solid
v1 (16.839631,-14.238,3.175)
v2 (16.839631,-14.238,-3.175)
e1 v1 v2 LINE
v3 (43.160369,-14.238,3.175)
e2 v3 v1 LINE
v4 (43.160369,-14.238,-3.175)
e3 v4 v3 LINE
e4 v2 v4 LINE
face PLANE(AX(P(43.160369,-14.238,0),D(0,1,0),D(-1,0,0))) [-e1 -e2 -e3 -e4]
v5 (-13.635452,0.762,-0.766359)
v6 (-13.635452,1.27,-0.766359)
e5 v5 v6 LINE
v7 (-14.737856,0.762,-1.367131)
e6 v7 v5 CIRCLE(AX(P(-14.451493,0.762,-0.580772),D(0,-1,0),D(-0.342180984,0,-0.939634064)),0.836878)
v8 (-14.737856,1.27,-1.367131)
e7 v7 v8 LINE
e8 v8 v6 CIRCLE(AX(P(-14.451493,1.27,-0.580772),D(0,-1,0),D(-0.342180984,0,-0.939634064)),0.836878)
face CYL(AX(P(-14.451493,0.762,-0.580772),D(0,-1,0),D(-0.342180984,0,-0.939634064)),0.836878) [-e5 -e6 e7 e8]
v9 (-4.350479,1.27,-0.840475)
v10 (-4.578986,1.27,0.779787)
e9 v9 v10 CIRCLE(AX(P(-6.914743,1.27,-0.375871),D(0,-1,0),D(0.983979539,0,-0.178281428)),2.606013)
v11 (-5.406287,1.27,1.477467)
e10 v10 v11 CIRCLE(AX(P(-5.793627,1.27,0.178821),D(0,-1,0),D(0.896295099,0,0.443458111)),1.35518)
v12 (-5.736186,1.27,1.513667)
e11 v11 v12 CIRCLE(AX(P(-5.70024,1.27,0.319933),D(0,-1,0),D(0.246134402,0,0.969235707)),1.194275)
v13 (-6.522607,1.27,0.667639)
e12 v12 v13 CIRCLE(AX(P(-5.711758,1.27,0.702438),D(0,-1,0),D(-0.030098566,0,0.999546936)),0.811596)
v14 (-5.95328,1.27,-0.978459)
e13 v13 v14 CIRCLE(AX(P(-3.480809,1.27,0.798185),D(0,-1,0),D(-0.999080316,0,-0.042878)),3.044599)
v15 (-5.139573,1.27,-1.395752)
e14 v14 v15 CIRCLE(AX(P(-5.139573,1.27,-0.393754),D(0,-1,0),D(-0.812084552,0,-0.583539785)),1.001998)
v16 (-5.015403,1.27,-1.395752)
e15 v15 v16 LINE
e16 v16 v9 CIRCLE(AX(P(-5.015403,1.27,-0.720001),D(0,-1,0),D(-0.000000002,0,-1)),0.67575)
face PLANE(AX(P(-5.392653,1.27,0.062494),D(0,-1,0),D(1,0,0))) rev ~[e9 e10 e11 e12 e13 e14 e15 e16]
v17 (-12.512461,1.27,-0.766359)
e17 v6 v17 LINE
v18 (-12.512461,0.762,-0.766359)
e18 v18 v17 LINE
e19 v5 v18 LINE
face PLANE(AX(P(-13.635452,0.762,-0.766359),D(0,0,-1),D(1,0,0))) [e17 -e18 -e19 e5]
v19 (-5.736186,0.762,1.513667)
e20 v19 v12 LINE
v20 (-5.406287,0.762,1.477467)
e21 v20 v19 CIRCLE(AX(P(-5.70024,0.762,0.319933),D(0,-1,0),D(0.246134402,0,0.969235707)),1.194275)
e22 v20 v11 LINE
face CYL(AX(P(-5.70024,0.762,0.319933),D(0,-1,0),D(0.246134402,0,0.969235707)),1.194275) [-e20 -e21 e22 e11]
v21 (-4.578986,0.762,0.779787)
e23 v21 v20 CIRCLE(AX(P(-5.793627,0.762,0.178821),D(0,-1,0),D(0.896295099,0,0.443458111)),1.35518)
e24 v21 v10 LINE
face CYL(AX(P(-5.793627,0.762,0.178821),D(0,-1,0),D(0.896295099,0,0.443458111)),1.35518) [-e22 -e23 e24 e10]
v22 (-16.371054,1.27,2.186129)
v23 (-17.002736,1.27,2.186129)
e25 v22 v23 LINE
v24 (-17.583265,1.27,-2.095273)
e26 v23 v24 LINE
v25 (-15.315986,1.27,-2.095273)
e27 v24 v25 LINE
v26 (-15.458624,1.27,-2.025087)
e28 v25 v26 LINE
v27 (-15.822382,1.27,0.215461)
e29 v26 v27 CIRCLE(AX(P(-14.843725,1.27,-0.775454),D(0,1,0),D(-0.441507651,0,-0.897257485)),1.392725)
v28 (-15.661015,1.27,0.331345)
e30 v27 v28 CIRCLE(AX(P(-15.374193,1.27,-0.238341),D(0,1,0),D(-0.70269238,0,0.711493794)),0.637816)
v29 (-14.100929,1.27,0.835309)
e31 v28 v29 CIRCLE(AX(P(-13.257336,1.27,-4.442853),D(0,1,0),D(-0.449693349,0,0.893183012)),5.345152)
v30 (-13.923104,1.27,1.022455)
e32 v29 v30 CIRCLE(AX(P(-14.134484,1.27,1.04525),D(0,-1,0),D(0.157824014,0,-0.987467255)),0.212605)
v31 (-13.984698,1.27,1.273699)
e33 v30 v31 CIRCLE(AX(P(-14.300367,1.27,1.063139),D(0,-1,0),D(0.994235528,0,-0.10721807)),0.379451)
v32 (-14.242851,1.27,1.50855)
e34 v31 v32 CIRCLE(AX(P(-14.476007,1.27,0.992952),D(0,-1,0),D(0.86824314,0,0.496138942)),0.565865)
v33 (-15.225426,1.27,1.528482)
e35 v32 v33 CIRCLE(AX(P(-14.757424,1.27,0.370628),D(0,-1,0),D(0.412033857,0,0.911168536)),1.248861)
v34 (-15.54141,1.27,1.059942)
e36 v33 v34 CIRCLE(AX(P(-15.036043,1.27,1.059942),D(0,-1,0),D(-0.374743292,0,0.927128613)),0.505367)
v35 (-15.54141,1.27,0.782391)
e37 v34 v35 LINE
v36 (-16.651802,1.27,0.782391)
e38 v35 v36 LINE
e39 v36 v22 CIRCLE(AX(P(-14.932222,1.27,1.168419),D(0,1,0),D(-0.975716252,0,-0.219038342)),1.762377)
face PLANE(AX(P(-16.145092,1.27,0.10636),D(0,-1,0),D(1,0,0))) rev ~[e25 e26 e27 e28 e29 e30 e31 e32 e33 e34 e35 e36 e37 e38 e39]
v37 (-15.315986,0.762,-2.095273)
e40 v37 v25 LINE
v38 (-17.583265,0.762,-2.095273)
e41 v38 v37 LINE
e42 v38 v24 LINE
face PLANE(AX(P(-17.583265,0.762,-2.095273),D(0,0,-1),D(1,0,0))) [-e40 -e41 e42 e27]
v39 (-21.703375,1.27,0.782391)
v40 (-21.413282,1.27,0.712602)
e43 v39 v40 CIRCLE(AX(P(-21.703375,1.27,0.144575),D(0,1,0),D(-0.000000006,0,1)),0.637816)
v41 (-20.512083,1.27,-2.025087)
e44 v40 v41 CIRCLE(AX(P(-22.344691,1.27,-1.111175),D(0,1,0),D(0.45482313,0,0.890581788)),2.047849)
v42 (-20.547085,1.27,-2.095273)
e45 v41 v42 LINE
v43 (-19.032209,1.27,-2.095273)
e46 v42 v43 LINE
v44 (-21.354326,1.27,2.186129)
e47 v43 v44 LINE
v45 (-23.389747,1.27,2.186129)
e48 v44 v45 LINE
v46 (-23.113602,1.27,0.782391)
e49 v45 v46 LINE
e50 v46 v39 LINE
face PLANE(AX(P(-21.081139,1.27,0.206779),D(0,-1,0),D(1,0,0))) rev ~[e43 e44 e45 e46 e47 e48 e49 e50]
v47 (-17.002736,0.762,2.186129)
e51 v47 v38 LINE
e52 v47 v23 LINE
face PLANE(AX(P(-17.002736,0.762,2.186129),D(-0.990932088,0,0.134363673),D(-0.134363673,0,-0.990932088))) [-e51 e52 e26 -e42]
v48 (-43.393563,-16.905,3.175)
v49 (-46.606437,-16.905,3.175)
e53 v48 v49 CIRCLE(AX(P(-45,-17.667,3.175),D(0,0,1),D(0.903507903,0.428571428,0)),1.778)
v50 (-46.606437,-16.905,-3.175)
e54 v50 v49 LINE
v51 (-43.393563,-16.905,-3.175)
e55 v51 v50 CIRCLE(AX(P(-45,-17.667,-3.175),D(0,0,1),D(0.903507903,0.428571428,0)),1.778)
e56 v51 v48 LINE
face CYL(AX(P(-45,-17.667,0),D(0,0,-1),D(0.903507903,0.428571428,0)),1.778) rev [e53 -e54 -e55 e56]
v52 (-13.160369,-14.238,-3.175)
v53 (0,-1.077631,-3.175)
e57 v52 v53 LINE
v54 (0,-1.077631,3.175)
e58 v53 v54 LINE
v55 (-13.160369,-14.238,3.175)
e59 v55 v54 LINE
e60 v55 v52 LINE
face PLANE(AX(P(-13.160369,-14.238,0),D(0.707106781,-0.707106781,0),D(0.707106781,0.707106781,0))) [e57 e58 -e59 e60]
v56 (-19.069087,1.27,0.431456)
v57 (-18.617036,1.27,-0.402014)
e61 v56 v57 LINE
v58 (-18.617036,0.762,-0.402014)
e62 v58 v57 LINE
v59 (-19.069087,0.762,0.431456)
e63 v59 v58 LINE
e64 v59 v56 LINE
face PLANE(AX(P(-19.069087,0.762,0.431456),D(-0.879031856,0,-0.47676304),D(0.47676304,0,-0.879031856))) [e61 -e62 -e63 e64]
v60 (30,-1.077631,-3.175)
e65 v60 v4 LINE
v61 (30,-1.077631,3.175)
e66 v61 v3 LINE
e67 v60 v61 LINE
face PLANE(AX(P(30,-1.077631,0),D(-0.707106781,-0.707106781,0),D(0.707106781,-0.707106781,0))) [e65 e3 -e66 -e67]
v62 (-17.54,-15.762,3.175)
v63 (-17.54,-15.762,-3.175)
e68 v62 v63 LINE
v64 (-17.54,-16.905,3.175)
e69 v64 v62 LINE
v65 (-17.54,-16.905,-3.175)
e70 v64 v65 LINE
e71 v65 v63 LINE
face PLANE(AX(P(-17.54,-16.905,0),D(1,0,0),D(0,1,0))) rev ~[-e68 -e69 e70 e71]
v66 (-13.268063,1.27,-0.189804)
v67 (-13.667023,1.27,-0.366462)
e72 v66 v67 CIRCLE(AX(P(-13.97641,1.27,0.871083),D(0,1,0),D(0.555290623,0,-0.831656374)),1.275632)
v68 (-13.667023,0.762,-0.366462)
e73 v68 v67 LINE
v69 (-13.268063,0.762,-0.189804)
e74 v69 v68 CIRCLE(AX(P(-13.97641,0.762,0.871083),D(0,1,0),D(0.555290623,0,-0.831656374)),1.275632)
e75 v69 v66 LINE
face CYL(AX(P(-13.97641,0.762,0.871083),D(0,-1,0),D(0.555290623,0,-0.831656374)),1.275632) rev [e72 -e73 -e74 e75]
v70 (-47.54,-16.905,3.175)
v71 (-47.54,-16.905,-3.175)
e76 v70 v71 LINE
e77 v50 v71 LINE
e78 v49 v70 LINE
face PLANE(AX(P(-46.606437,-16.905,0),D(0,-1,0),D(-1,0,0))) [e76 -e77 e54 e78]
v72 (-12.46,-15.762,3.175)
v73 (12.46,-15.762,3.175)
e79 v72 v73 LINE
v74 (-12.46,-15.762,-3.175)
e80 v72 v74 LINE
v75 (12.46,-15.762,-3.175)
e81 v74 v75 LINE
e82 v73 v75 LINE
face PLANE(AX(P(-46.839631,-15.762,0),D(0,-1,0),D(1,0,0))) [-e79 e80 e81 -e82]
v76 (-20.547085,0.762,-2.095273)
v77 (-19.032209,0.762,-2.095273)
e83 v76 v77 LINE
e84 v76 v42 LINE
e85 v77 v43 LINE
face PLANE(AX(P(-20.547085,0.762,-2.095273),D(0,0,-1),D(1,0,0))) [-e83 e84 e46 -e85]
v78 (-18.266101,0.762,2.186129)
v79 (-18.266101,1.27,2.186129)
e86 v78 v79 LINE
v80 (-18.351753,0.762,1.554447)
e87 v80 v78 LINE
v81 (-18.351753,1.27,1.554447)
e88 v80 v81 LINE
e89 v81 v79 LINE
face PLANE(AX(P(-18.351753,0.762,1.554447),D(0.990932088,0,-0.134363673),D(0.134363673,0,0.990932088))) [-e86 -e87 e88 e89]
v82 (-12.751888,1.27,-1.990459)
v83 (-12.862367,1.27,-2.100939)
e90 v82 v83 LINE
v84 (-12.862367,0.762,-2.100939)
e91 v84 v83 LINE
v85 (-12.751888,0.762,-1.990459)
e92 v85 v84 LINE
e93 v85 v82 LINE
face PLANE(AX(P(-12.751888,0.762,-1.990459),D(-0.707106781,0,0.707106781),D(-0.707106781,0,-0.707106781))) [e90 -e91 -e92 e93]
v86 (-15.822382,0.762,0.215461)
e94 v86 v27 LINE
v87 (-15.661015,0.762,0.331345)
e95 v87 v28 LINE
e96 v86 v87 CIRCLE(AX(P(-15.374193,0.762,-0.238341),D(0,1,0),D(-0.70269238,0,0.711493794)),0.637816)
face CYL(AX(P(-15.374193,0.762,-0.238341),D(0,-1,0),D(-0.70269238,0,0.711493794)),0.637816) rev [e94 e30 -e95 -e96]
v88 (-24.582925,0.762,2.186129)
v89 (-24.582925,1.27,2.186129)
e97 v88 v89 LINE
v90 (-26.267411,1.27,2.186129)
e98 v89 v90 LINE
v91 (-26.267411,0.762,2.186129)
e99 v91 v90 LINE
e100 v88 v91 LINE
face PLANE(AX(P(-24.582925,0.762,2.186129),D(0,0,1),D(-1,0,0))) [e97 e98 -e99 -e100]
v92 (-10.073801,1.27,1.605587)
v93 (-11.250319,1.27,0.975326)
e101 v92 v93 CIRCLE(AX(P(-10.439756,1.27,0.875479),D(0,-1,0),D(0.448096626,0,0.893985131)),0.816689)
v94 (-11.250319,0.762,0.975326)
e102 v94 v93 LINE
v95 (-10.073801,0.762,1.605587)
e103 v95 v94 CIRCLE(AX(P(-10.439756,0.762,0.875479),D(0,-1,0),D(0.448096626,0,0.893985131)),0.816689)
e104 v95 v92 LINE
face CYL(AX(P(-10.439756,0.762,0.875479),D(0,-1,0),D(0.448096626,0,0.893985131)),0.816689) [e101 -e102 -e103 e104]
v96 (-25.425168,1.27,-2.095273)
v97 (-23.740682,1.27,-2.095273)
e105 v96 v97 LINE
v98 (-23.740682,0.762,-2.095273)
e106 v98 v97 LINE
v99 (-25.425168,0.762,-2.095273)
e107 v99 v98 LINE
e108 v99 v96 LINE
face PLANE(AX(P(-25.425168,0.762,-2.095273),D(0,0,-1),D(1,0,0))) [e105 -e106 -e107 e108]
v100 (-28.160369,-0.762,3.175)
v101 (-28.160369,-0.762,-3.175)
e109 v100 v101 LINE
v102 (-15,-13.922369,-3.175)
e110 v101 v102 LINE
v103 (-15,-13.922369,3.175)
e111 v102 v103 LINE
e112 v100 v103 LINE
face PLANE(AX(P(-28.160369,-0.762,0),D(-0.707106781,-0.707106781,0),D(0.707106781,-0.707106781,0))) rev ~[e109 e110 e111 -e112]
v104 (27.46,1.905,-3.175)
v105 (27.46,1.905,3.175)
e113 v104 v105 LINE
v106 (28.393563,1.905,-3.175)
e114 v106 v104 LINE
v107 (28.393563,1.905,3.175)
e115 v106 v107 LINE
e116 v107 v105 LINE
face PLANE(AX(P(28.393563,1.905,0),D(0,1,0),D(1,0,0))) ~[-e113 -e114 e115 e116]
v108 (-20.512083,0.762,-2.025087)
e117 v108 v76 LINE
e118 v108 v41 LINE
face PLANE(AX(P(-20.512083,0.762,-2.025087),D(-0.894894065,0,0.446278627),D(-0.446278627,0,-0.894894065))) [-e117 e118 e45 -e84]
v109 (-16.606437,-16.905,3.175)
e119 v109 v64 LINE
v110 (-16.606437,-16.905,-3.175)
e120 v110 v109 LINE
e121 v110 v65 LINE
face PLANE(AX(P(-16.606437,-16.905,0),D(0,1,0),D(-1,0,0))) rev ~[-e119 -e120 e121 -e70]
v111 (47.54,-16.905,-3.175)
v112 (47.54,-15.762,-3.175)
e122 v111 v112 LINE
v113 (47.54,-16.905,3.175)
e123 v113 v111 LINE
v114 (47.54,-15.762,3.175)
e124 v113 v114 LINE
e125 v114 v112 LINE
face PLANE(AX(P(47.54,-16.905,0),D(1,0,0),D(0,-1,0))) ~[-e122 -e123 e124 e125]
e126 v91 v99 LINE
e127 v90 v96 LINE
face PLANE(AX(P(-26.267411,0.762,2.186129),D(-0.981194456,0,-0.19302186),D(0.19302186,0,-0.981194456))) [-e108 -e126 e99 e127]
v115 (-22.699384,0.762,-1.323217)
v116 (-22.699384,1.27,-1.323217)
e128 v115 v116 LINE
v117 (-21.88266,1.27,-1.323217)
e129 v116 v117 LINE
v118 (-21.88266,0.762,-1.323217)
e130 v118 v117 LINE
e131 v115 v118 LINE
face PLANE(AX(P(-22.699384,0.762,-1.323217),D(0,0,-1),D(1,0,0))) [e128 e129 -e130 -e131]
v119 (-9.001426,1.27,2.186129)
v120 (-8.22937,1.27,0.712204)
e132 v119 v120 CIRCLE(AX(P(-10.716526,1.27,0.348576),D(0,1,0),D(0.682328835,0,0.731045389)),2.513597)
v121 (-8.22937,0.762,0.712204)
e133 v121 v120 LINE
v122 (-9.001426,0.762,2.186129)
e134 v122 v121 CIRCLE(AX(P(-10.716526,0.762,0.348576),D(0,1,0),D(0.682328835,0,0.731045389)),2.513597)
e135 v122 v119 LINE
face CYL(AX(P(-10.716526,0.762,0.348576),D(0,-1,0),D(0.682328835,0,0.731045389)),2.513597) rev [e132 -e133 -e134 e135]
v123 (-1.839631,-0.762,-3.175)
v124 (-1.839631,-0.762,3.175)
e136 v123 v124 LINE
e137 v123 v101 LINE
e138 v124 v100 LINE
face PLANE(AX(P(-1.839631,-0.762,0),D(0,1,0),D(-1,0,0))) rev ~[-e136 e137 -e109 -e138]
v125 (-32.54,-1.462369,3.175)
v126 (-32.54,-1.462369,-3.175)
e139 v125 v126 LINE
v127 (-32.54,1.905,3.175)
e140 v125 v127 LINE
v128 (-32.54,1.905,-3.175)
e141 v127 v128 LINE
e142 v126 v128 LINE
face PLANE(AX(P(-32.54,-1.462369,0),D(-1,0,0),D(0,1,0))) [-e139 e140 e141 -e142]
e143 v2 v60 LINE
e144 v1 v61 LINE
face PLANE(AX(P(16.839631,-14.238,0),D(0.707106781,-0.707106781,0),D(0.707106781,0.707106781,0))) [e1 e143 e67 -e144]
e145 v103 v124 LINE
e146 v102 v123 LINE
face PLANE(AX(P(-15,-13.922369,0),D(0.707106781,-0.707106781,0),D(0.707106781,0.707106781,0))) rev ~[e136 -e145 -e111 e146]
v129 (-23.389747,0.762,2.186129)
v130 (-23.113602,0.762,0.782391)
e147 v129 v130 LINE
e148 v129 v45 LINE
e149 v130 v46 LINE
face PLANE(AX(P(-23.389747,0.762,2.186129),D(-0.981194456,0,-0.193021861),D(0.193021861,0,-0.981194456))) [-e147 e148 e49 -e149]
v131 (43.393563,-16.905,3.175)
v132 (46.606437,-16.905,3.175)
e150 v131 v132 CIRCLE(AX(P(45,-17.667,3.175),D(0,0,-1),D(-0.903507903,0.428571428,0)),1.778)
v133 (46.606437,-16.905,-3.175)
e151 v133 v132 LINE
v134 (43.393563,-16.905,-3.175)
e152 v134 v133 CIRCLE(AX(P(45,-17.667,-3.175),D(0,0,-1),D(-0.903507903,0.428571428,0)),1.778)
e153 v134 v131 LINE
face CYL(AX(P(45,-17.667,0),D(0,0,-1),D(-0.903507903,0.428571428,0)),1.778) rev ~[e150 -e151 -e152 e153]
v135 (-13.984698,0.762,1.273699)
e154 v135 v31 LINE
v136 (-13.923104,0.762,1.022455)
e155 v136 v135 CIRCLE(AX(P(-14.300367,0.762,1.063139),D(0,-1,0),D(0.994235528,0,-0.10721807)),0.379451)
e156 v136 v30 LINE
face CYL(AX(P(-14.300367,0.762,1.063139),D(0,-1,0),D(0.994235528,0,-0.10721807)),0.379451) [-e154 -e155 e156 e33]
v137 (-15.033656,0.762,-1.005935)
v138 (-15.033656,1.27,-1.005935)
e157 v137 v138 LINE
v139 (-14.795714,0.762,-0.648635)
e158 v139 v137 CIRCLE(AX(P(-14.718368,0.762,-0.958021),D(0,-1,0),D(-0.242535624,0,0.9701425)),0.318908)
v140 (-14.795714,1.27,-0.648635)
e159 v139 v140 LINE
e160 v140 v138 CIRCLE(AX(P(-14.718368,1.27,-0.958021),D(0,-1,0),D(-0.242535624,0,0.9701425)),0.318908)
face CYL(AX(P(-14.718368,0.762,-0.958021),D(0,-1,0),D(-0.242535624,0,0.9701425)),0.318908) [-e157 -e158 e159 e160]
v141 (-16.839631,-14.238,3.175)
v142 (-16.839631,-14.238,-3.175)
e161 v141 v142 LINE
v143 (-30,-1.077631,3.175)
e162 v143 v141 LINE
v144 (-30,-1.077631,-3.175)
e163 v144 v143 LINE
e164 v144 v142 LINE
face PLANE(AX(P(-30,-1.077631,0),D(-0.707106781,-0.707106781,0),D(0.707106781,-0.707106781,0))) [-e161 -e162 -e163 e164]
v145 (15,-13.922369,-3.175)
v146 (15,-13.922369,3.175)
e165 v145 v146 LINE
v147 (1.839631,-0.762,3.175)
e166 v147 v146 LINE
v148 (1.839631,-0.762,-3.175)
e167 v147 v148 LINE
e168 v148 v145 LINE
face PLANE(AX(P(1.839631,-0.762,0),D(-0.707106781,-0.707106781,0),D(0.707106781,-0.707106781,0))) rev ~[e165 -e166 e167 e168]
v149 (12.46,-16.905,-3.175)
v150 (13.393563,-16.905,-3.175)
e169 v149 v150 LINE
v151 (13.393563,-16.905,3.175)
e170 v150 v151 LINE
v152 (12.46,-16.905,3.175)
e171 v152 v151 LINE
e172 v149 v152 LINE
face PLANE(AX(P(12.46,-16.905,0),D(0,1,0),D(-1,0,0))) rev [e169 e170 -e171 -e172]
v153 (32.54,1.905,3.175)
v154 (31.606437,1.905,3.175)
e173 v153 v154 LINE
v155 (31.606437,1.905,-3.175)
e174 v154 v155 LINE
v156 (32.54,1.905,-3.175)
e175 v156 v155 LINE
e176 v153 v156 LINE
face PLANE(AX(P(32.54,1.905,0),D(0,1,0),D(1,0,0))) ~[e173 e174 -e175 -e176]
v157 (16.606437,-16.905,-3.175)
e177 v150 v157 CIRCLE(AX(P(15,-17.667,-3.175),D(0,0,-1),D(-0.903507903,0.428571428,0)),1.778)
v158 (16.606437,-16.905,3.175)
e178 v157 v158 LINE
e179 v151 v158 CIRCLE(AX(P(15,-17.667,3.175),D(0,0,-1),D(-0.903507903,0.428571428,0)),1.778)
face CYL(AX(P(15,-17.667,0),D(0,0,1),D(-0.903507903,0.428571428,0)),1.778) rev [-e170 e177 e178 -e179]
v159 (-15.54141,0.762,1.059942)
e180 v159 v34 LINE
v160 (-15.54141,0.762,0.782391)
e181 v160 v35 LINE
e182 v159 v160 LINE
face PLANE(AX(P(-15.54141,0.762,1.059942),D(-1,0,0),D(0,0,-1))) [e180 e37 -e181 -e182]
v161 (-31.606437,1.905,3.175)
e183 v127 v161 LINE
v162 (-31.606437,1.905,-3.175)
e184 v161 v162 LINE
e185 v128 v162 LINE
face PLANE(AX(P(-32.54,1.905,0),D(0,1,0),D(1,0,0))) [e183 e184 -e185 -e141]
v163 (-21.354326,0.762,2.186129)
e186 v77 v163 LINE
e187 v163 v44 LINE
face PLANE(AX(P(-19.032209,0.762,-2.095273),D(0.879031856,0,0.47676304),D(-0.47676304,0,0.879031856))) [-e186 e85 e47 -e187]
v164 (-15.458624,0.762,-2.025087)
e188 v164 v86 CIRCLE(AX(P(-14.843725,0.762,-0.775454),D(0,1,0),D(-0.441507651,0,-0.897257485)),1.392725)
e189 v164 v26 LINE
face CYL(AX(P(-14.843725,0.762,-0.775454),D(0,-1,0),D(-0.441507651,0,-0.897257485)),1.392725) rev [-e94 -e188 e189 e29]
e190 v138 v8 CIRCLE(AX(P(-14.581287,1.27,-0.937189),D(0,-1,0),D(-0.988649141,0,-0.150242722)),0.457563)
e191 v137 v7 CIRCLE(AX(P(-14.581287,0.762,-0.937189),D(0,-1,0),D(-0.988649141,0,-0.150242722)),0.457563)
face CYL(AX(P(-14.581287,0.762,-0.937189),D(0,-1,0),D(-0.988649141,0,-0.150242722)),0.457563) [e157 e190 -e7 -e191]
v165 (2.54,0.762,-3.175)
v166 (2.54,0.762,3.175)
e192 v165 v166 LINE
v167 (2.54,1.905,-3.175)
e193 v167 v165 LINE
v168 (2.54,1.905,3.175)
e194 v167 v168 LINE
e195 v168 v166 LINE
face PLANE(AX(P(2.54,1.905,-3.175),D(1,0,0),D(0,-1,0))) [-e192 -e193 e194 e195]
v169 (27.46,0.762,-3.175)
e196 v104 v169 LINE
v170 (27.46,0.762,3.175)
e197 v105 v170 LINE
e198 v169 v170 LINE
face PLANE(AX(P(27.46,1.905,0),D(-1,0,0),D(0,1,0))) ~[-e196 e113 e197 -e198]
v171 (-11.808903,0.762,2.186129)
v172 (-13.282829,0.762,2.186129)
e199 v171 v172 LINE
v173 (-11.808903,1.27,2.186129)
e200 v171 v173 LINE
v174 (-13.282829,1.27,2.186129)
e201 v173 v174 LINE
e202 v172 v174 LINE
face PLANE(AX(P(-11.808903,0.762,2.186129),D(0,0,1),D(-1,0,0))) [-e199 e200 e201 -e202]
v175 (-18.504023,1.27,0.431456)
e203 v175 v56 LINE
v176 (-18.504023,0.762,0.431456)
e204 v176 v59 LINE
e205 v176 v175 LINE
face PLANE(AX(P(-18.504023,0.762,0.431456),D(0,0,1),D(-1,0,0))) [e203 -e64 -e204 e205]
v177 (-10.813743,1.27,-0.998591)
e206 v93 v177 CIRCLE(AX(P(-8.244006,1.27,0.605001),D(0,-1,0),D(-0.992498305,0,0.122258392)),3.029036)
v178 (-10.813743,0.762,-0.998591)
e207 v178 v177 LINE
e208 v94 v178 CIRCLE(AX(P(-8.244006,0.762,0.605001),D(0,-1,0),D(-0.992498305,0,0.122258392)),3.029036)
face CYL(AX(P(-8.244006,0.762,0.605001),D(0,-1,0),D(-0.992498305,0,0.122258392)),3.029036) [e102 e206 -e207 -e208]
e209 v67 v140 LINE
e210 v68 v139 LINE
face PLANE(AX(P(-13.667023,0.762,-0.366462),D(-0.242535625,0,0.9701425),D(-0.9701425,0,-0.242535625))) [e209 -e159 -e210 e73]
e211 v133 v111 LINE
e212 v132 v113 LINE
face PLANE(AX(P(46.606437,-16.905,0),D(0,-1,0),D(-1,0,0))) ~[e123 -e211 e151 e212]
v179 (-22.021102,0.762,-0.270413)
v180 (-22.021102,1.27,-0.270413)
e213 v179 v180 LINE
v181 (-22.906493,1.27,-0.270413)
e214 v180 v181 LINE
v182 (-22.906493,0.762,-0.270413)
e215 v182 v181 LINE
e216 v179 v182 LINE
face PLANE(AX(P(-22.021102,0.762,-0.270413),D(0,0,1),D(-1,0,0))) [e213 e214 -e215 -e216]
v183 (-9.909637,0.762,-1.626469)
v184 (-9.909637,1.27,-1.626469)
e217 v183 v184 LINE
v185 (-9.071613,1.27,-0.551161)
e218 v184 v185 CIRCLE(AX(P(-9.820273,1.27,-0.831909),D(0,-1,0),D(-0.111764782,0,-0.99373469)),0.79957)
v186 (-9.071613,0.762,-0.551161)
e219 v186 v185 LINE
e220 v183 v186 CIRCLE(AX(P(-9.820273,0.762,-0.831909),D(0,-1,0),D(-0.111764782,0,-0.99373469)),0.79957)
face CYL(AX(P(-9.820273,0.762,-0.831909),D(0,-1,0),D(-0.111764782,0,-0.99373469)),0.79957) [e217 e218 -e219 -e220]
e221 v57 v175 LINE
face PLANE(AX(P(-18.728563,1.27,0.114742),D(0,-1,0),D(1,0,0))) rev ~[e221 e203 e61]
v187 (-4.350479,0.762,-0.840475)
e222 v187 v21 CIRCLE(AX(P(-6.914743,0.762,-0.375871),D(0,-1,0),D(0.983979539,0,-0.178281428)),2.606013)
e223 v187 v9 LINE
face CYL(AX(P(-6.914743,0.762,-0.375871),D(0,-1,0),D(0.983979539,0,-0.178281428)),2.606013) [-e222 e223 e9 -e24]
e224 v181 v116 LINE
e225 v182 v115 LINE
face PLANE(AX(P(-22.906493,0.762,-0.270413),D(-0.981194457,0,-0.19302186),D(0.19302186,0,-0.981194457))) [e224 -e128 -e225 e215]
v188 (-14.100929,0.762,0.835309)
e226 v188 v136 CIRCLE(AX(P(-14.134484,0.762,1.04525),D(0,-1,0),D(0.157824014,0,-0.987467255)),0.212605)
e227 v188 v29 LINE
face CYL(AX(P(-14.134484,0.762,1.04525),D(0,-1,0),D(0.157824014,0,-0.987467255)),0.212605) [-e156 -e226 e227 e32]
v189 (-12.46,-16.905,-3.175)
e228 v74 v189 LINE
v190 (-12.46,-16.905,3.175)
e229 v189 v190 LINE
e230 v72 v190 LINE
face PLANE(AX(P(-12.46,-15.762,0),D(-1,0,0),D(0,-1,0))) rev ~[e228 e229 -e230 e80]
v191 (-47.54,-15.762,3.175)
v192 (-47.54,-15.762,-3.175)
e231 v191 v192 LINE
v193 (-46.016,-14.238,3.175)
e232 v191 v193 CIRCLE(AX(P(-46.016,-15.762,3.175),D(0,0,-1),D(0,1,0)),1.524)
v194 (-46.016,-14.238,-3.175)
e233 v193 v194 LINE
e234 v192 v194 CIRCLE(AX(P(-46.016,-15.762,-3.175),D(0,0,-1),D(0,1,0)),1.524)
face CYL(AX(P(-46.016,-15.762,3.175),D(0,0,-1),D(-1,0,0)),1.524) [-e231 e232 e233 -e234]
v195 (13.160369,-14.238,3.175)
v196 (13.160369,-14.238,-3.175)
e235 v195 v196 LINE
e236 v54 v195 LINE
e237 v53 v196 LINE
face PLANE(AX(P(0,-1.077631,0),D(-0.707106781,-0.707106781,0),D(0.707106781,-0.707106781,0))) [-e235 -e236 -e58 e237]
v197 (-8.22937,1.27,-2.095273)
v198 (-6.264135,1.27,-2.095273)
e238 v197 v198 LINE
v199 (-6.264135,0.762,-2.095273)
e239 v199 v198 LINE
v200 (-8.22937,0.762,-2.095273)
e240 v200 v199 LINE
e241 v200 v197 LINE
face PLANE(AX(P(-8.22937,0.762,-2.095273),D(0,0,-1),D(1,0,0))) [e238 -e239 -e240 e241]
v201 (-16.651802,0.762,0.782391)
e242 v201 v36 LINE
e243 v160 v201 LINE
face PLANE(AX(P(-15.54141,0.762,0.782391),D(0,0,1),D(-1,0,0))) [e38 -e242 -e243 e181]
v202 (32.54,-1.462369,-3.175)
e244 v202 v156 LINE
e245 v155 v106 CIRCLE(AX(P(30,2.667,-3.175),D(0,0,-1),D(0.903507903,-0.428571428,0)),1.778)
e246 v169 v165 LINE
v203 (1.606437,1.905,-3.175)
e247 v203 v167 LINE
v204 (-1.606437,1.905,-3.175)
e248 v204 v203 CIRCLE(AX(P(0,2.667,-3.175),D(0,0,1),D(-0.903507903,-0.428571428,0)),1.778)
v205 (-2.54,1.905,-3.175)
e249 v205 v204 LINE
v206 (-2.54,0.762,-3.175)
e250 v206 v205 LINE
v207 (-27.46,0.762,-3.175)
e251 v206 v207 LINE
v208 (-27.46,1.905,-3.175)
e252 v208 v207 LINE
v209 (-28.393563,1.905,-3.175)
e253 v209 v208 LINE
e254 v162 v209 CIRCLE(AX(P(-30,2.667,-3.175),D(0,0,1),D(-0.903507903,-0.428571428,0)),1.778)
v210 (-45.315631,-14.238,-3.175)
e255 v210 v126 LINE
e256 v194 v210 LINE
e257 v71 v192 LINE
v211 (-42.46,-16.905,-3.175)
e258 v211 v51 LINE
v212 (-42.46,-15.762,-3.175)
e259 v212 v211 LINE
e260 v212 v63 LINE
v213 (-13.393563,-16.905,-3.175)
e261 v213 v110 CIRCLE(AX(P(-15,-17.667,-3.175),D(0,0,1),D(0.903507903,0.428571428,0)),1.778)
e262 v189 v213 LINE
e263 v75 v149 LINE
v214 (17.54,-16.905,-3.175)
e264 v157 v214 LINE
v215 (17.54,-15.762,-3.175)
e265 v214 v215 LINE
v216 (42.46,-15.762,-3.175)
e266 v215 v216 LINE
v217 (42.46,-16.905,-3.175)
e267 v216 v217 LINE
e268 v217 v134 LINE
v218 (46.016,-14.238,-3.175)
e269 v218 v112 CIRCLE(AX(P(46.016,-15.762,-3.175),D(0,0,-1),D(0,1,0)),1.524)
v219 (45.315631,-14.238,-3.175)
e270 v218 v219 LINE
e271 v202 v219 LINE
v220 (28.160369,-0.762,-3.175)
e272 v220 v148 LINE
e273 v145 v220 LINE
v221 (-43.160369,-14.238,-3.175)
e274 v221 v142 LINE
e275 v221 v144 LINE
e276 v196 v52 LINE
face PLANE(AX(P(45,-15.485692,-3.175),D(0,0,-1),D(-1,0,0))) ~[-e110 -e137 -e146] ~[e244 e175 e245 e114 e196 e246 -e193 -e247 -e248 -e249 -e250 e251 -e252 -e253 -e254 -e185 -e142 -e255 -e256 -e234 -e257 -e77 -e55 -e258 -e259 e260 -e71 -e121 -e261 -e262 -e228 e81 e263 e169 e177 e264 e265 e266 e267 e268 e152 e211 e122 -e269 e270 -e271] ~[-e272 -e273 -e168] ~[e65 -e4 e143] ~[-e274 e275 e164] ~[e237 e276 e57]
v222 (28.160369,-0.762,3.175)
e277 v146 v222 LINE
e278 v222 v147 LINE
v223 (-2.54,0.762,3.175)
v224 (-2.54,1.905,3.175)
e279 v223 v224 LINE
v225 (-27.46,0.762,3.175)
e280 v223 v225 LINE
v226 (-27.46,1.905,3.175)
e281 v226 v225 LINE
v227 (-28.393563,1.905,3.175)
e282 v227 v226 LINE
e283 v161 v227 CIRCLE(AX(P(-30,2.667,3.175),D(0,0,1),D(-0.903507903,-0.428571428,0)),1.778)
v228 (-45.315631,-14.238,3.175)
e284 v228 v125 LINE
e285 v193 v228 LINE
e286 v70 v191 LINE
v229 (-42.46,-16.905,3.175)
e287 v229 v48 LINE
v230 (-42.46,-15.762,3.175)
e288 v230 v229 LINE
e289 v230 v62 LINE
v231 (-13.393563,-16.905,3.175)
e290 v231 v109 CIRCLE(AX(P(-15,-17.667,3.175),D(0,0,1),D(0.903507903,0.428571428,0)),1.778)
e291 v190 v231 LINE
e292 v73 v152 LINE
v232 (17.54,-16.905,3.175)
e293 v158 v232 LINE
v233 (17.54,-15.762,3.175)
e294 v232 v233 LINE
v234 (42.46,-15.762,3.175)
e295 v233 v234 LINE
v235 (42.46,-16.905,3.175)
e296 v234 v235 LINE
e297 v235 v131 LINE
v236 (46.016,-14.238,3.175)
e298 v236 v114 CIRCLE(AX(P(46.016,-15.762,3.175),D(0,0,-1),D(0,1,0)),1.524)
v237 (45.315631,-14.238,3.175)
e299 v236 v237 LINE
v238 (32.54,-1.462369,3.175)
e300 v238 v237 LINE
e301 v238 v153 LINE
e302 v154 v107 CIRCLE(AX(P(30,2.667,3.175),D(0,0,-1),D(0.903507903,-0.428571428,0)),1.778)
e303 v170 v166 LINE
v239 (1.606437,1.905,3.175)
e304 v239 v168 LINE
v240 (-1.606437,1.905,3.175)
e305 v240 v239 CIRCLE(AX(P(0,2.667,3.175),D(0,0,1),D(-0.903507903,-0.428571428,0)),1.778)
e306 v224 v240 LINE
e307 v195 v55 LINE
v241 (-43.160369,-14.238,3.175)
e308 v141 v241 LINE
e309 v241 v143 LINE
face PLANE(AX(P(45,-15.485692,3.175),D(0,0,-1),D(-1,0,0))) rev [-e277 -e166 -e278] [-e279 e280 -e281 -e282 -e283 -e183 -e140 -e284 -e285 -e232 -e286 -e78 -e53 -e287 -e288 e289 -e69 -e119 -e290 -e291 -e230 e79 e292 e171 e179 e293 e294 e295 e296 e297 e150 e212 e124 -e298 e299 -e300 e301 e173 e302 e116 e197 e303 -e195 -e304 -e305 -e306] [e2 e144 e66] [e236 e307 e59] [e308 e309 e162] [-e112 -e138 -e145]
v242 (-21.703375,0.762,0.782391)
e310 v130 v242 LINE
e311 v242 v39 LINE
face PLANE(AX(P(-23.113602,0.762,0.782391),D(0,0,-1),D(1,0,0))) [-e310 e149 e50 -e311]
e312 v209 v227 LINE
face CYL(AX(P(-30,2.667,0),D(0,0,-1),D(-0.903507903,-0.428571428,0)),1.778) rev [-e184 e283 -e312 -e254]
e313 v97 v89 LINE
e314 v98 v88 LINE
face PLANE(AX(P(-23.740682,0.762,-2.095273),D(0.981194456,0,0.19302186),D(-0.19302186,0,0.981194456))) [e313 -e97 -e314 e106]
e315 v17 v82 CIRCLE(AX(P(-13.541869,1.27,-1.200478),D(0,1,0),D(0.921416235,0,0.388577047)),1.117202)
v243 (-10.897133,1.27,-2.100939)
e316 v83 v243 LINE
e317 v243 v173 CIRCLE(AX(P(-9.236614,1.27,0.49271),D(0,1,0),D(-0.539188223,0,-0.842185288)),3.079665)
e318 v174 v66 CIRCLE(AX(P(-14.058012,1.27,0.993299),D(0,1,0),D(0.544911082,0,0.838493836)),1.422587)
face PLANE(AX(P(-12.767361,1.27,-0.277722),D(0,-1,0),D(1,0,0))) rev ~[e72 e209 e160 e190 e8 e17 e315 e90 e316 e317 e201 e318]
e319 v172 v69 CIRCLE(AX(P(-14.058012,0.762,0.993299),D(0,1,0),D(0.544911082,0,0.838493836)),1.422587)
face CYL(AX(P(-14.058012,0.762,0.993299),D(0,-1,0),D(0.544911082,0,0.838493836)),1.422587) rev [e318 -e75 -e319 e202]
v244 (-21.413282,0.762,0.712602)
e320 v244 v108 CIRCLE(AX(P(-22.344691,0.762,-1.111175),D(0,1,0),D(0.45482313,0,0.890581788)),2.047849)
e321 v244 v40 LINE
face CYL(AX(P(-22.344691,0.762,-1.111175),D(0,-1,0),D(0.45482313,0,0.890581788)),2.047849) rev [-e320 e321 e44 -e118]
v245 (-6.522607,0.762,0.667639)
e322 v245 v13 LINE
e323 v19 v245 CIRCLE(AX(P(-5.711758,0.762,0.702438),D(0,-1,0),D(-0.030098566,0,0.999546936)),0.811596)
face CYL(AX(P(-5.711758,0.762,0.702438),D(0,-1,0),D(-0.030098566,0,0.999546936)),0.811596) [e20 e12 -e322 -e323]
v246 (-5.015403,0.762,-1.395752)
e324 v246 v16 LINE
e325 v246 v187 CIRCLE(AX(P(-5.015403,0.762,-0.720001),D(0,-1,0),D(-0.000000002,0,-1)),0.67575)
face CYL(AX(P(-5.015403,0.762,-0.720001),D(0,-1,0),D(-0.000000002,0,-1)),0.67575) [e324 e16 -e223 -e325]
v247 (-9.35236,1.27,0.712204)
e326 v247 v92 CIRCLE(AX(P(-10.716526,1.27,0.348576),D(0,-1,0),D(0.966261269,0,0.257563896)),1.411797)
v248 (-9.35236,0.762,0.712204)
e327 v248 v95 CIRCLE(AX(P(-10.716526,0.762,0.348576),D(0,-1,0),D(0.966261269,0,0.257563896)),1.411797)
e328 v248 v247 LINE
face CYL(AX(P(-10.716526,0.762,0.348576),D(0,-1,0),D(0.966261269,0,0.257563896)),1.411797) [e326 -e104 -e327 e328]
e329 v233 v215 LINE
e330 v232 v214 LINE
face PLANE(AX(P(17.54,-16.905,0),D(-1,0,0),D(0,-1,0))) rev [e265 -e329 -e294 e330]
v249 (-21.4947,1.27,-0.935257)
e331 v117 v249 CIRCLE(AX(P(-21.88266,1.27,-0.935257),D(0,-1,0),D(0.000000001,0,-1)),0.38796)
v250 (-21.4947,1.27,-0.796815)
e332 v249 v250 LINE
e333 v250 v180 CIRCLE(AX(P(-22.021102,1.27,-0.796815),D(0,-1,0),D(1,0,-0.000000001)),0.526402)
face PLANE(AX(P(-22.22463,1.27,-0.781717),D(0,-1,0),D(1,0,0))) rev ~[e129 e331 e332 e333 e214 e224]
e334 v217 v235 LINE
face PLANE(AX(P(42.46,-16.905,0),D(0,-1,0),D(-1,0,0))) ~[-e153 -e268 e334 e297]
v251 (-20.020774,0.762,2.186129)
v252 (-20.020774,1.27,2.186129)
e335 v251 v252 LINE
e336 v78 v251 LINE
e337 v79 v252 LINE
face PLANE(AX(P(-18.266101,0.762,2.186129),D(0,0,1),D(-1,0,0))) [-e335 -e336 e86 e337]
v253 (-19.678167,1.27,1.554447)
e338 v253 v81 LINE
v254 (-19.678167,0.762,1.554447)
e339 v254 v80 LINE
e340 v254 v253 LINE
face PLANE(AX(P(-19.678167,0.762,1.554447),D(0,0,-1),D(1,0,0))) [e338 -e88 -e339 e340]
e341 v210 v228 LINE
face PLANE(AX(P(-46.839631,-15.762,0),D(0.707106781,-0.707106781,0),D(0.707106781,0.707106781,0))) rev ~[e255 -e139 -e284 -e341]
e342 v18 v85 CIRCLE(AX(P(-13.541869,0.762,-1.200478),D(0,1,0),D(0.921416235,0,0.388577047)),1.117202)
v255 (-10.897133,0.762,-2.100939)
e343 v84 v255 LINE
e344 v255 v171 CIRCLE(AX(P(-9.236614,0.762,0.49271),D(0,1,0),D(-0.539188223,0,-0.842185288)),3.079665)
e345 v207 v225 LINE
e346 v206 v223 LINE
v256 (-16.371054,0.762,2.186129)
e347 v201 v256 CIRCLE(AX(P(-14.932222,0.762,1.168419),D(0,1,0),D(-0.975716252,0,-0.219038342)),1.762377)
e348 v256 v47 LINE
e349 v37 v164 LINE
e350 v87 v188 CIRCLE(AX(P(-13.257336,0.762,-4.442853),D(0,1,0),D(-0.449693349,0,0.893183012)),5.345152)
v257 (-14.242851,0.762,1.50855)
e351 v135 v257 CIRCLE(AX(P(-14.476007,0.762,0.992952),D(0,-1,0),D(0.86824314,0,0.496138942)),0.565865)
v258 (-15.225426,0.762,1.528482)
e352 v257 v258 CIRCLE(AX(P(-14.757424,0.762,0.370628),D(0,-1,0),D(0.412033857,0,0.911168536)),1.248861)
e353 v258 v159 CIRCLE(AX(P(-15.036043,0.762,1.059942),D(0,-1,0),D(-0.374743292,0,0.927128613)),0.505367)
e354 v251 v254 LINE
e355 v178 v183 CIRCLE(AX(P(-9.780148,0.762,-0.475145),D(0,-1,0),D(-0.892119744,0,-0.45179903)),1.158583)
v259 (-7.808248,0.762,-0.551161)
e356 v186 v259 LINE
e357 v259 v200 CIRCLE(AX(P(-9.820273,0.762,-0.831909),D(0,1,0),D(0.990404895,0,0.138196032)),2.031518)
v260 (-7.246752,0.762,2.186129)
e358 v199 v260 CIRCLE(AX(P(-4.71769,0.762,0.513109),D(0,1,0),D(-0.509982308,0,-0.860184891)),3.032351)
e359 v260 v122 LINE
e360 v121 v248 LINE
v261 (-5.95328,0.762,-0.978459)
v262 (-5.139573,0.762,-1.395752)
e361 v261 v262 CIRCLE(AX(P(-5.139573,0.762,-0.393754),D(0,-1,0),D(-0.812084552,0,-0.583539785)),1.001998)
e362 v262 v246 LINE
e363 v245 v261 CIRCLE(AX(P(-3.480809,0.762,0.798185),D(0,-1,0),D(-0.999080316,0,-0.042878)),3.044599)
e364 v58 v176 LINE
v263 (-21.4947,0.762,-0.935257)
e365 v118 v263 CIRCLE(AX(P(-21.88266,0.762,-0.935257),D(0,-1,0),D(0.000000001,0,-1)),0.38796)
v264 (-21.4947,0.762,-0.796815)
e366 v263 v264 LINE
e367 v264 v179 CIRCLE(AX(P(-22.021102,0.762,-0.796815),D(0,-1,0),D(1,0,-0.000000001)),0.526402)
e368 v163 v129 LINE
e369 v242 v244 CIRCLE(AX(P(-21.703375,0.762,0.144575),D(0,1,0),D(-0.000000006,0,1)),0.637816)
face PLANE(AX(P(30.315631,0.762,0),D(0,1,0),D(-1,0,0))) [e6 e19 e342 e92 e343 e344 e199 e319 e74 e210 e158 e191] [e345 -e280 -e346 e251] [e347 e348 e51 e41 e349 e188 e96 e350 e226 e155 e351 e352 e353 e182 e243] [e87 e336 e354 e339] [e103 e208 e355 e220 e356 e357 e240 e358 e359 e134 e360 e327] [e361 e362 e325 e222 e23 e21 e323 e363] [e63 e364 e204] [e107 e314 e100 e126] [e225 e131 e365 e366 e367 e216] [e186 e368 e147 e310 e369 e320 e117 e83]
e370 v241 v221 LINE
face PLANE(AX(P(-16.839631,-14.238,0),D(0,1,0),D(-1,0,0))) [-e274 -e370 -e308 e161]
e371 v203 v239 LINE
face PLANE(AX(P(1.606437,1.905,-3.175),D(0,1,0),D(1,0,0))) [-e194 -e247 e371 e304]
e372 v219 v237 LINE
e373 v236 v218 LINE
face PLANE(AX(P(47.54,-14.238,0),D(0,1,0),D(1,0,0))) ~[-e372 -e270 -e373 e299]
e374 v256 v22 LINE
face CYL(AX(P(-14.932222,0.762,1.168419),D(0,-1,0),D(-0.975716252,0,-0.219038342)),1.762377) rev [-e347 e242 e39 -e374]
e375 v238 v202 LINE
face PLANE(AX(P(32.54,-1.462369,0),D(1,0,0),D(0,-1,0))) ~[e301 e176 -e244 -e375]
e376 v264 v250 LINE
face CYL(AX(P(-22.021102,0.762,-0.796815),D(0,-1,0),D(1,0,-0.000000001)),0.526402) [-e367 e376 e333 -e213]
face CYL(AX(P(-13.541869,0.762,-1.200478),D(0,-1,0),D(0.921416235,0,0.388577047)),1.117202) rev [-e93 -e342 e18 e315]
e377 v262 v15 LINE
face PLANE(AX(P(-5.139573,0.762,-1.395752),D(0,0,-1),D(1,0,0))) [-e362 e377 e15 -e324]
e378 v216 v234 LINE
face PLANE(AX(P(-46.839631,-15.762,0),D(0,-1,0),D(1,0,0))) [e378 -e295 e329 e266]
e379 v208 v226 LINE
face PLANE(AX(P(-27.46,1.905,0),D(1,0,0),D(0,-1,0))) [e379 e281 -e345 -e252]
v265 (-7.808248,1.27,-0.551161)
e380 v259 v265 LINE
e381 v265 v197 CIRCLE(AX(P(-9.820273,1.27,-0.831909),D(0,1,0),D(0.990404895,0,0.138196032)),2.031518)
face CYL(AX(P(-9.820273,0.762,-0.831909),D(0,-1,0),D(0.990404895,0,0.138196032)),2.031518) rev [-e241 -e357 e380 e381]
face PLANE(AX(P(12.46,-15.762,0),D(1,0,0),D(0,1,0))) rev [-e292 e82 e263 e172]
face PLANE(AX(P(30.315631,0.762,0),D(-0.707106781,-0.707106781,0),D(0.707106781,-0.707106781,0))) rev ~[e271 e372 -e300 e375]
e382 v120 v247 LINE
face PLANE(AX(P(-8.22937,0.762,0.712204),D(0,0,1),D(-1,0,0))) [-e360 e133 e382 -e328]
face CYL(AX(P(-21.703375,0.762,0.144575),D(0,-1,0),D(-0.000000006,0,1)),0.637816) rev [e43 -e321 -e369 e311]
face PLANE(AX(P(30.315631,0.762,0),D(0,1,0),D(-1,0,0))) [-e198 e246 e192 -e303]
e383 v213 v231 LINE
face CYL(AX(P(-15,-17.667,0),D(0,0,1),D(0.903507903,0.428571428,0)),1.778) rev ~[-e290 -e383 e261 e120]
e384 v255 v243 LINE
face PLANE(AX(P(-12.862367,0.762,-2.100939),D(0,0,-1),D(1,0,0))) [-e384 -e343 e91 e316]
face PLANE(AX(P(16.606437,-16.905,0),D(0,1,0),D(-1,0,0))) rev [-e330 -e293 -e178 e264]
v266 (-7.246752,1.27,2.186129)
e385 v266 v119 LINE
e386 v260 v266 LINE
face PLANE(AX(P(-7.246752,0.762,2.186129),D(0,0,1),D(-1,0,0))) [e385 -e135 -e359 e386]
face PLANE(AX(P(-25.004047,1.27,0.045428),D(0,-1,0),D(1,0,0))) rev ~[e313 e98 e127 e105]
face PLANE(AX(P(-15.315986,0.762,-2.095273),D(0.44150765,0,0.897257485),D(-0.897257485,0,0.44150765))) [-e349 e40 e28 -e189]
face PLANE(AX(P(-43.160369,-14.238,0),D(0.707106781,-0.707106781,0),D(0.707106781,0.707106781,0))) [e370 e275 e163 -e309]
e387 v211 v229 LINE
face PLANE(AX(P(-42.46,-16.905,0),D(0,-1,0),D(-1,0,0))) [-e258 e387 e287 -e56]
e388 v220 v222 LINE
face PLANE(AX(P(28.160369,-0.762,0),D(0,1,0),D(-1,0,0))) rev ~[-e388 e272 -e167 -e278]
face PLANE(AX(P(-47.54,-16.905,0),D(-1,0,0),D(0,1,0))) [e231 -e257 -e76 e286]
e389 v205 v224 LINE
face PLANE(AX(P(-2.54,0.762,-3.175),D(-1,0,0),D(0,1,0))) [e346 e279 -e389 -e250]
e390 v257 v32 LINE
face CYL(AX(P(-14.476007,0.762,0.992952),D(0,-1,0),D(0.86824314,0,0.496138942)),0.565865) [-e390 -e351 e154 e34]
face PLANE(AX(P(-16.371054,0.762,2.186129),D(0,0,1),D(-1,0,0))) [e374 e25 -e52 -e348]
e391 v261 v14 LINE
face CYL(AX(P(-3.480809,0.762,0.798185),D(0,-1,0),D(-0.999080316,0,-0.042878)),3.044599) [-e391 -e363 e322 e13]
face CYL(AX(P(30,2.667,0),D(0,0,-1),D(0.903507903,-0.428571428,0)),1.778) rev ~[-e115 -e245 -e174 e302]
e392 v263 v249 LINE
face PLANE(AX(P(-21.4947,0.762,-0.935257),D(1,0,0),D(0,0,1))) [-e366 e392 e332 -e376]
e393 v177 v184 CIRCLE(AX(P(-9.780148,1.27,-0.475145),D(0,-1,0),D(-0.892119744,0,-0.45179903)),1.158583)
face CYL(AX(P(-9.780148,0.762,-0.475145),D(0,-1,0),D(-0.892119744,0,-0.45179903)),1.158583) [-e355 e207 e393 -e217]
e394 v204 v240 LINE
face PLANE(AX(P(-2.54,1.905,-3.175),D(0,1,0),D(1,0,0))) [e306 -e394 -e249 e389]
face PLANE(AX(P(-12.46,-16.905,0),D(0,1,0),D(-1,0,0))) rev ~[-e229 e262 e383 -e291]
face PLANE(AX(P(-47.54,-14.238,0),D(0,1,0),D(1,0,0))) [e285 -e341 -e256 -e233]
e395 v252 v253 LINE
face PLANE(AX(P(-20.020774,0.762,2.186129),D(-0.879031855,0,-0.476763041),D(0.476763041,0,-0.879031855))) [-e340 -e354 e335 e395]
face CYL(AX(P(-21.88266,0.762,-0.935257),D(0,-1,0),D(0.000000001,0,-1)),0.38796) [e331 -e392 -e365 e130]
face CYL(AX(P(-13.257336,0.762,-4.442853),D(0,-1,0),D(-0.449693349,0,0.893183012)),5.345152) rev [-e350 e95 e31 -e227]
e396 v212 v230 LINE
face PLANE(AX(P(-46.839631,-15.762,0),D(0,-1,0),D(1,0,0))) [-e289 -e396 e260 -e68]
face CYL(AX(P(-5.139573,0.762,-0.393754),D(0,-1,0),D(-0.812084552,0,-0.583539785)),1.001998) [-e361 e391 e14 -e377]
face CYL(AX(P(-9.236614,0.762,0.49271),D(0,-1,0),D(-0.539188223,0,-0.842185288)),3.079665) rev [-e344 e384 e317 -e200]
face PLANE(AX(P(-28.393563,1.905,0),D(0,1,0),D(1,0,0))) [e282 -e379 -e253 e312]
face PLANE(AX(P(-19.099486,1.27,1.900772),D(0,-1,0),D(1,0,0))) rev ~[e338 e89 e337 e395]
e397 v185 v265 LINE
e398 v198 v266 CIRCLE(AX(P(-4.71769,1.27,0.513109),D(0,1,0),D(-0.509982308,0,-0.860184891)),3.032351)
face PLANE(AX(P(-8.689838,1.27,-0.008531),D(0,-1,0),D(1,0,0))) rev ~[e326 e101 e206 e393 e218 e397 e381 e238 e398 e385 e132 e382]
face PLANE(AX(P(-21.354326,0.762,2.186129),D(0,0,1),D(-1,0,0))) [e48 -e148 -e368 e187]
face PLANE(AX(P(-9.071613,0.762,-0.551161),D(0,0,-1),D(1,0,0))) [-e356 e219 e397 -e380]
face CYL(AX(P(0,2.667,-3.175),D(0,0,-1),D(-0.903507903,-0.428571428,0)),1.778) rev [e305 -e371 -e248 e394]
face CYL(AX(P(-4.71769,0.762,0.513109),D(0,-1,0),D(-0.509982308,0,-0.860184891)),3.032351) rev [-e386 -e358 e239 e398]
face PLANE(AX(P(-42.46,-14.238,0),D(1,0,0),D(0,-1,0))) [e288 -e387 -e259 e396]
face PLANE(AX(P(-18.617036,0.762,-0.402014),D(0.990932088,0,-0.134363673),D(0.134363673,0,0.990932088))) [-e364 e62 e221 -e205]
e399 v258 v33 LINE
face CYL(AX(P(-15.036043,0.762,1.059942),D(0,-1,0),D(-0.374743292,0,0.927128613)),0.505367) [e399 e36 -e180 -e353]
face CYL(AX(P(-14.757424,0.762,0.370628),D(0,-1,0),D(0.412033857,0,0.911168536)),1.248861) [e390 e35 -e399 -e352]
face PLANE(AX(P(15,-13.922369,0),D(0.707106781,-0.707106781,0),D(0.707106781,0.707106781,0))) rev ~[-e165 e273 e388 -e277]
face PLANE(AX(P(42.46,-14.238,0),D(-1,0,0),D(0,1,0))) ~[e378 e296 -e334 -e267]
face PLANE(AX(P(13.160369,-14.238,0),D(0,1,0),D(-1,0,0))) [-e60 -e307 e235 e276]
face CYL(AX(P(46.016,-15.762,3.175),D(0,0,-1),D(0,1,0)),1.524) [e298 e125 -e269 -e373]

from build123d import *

# Parameters (mm, degrees)
BOSS_EXTRUDE1_DEPTH  = 3.175
BOSS_EXTRUDE2_DEPTH  = 3.175
BOSS_EXTRUDE3_START  = -3.175
BOSS_EXTRUDE3_DEPTH  = 6.35
FILLET1_R            = 1.524
FILLET1_OF_MIRROR1_R = 1.524
BOSS_EXTRUDE4_DEPTH  = 0.508


with BuildPart() as part:
    # Sketch1 → Boss-Extrude1 (new body, symmetric)
    with BuildSketch(Plane.XY):
        Polygon((-46.839630735, -15.762), (-30.315630735, 0.762), (0, 0.762), (30.315630735, 0.762), (46.839630735, -15.762), (15, -15.762), (-15, -15.762), align=None)
        Polygon((-43.160369265, -14.238), (-30, -1.077630735), (-16.839630735, -14.238), align=None, mode=Mode.SUBTRACT)
        Polygon((-28.160369265, -0.762), (-15, -13.922369265), (-1.839630735, -0.762), align=None, mode=Mode.SUBTRACT)
        Polygon((-13.160369265, -14.238), (0, -1.077630735), (13.160369265, -14.238), align=None, mode=Mode.SUBTRACT)
        Polygon((1.839630735, -0.762), (15, -13.922369265), (28.160369265, -0.762), align=None, mode=Mode.SUBTRACT)
        Polygon((16.839630735, -14.238), (30, -1.077630735), (43.160369265, -14.238), align=None, mode=Mode.SUBTRACT)
    extrude(amount=BOSS_EXTRUDE1_DEPTH, both=True)

    # Sketch2 → Boss-Extrude2 (add, symmetric)
    with BuildSketch(Plane.XY):
        with BuildLine():
            Line((-46.606437051, -16.905), (-47.54, -16.905))
            Line((-47.54, -16.905), (-47.54, -14.238))
            Line((-47.54, -14.238), (-42.46, -14.238))
            Line((-42.46, -14.238), (-42.46, -16.905))
            Line((-42.46, -16.905), (-43.393562949, -16.905))
            ThreePointArc((-43.393562949, -16.905), (-45, -15.889), (-46.606437051, -16.905))
        make_face()
        with BuildLine():
            Line((-27.46, 0.762), (-30.315630735, 0.762))
            Line((-30.315630735, 0.762), (-32.54, -1.462369265))
            Line((-32.54, -1.462369265), (-32.54, 0.762))
            Line((-32.54, 0.762), (-32.54, 1.905))
            Line((-32.54, 1.905), (-31.606437051, 1.905))
            ThreePointArc((-31.606437051, 1.905), (-30, 0.889), (-28.393562949, 1.905))
            Line((-28.393562949, 1.905), (-27.46, 1.905))
            Line((-27.46, 1.905), (-27.46, 0.762))
        make_face()
        with BuildLine():
            Line((-16.606437051, -16.905), (-17.54, -16.905))
            Line((-17.54, -16.905), (-17.54, -15.762))
            Line((-17.54, -15.762), (-12.46, -15.762))
            Line((-12.46, -15.762), (-12.46, -16.905))
            Line((-12.46, -16.905), (-13.393562949, -16.905))
            ThreePointArc((-13.393562949, -16.905), (-15, -15.889), (-16.606437051, -16.905))
        make_face()
    boss_extrude2 = extrude(amount=BOSS_EXTRUDE2_DEPTH, both=True)

    # Sketch3 → Boss-Extrude3 (add)
    with BuildSketch(Plane.XY.offset(BOSS_EXTRUDE3_START)):
        with BuildLine():
            Line((1.606437051, 1.905), (2.54, 1.905))
            Line((2.54, 1.905), (2.54, 0.762))
            Line((2.54, 0.762), (-2.54, 0.762))
            Line((-2.54, 0.762), (-2.54, 1.905))
            Line((-2.54, 1.905), (-1.606437051, 1.905))
            ThreePointArc((-1.606437051, 1.905), (0, 0.889), (1.606437051, 1.905))
        make_face()
    extrude(amount=BOSS_EXTRUDE3_DEPTH)

    # Fillet1
    fillet1_edges = [part.edges().sort_by_distance(p)[0] for p in [
        (-47.54, -14.238, 0),
    ]]
    fillet(fillet1_edges, radius=FILLET1_R)

    # Mirror1: Boss-Extrude2 across plane
    add(boss_extrude2.mirror(Plane(origin=(0, 0, 0), x_dir=(0, 0, 1), z_dir=(1, 0, 0))))

    # Fillet1 of Mirror1
    fillet1_of_mirror1_edges = [part.edges().sort_by_distance(p)[0] for p in [
        (47.54, -14.238, 0),
    ]]
    fillet(fillet1_of_mirror1_edges, radius=FILLET1_OF_MIRROR1_R)

    # Sketch4 → Boss-Extrude4 (add)
    with BuildSketch(Plane(origin=(30.341470111, 0.762, -10.998323426), x_dir=(-1, 0, 0), z_dir=(0, 1, 0))):
        Polygon((55.766638301, 8.903049935), (54.0821519, 8.903049935), (54.924395101, 13.184452869), (56.608881501, 13.184452869), align=None)
        with BuildLine():
            Line((49.373679321, 8.903049935), (51.695796166, 13.184452869))
            Line((51.695796166, 13.184452869), (53.731217234, 13.184452869))
            Line((53.731217234, 13.184452869), (53.455071922, 11.780714202))
            Line((53.455071922, 11.780714202), (52.044845481, 11.780714202))
            ThreePointArc((52.044845481, 11.780714202), (51.895660414, 11.763021636), (51.754751921, 11.710925494))
            ThreePointArc((51.754751921, 11.710925494), (50.74099205, 10.52746368), (50.853552966, 8.973236868))
            Line((50.853552966, 8.973236868), (50.888554794, 8.903049935))
            Line((50.888554794, 8.903049935), (49.373679321, 8.903049935))
        make_face()
        with BuildLine():
            Line((47.344206299, 13.184452869), (47.92473551, 8.903049935))
            Line((47.92473551, 8.903049935), (45.657455804, 8.903049935))
            Line((45.657455804, 8.903049935), (45.800093765, 8.973236868))
            ThreePointArc((45.800093765, 8.973236868), (46.559919921, 9.999679495), (46.16385217, 11.213784347))
            ThreePointArc((46.16385217, 11.213784347), (46.087708374, 11.278047887), (46.002485287, 11.329668676))
            ThreePointArc((46.002485287, 11.329668676), (45.241879319, 11.641820064), (44.44239948, 11.833632247))
            ThreePointArc((44.44239948, 11.833632247), (44.321830206, 11.897125178), (44.264573877, 12.020777977))
            ThreePointArc((44.264573877, 12.020777977), (44.273299822, 12.151811254), (44.326168164, 12.272022736))
            ThreePointArc((44.326168164, 12.272022736), (44.436687002, 12.409847066), (44.584321098, 12.50687352))
            ThreePointArc((44.584321098, 12.50687352), (45.07356558, 12.617554773), (45.566896159, 12.526805434))
            ThreePointArc((45.566896159, 12.526805434), (45.796502387, 12.340831934), (45.882880346, 12.05826511))
            Line((45.882880346, 12.05826511), (45.882880346, 11.780714202))
            Line((45.882880346, 11.780714202), (46.993271632, 11.780714202))
            ThreePointArc((46.993271632, 11.780714202), (47.00184458, 12.512372899), (46.712523898, 13.184452869))
            Line((46.712523898, 13.184452869), (47.344206299, 13.184452869))
        make_face()
        with BuildLine():
            Line((52.362572033, 10.727910202), (53.247962938, 10.727910202))
            Line((53.247962938, 10.727910202), (53.040853955, 9.675106202))
            Line((53.040853955, 9.675106202), (52.224130208, 9.675106202))
            ThreePointArc((52.224130208, 9.675106202), (51.949800938, 9.788737106), (51.836170033, 10.063066377))
            Line((51.836170033, 10.063066377), (51.836170033, 10.201508202))
            ThreePointArc((51.836170033, 10.201508202), (51.990349609, 10.573730626), (52.362572033, 10.727910202))
        make_face()
        Polygon((48.958505766, 10.596309702), (48.845492907, 11.429779536), (49.410557201, 11.429779536), align=None)
        Polygon((48.607571099, 13.184452869), (50.362244433, 13.184452869), (50.019637029, 12.552770469), (48.69322295, 12.552770469), align=None)
        with BuildLine():
            Line((43.093358174, 9.007864255), (43.203837606, 8.897384823))
            Line((43.203837606, 8.897384823), (41.238603472, 8.897384823))
            ThreePointArc((41.238603472, 8.897384823), (42.59037643, 10.850382179), (42.150373231, 13.184452869))
            Line((42.150373231, 13.184452869), (43.624298831, 13.184452869))
            ThreePointArc((43.624298831, 13.184452869), (42.976922737, 12.00046329), (43.609533036, 10.808518937))
            ThreePointArc((43.609533036, 10.808518937), (43.801404112, 10.703005905), (44.00849344, 10.63186155))
            Line((44.00849344, 10.63186155), (45.137184548, 10.349688773))
            ThreePointArc((45.137184548, 10.349688773), (45.325274084, 10.217067986), (45.375126192, 9.992388851))
            ThreePointArc((45.375126192, 9.992388851), (45.276758726, 9.771226443), (45.079326395, 9.631192719))
            ThreePointArc((45.079326395, 9.631192719), (44.392498989, 9.682709209), (43.976922089, 10.231964773))
            Line((43.976922089, 10.231964773), (42.853931155, 10.231964773))
            ThreePointArc((42.853931155, 10.231964773), (42.786913393, 9.583390951), (43.093358174, 9.007864255))
        make_face()
        with BuildLine():
            Line((38.57083963, 8.903049935), (36.605605496, 8.903049935))
            ThreePointArc((36.605605496, 8.903049935), (38.014670833, 10.833118693), (37.588222563, 13.184452869))
            Line((37.588222563, 13.184452869), (39.342895896, 13.184452869))
            ThreePointArc((39.342895896, 13.184452869), (38.831372076, 12.513225905), (38.57083963, 11.710527269))
            Line((38.57083963, 11.710527269), (39.693830563, 11.710527269))
            ThreePointArc((39.693830563, 11.710527269), (39.959617235, 12.233880985), (40.415270694, 12.603910164))
            ThreePointArc((40.415270694, 12.603910164), (41.166876497, 12.593701608), (41.591788981, 11.973649288))
            ThreePointArc((41.591788981, 11.973649288), (41.543037796, 10.949193829), (41.155213354, 9.999731945))
            ThreePointArc((41.155213354, 9.999731945), (40.782487914, 9.571566118), (40.251107207, 9.371854393))
            ThreePointArc((40.251107207, 9.371854393), (39.531077174, 9.674914925), (39.41308283, 10.447162469))
            Line((39.41308283, 10.447162469), (38.149718029, 10.447162469))
            ThreePointArc((38.149718029, 10.447162469), (38.201808334, 9.631886976), (38.57083963, 8.903049935))
        make_face()
        with BuildLine():
            Line((35.48104333, 9.602571887), (35.356873428, 9.602571887))
            ThreePointArc((35.356873428, 9.602571887), (34.923728887, 9.759646665), (34.691948891, 10.157848515))
            ThreePointArc((34.691948891, 10.157848515), (34.675735454, 10.986379145), (34.920455715, 11.778110082))
            ThreePointArc((34.920455715, 11.778110082), (35.261440878, 12.213116508), (35.747757566, 12.475790357))
            ThreePointArc((35.747757566, 12.475790357), (35.911443016, 12.505405638), (36.077655631, 12.511990293))
            ThreePointArc((36.077655631, 12.511990293), (36.647671195, 12.253324316), (36.864077445, 11.665962276))
            ThreePointArc((36.864077445, 11.665962276), (36.699639375, 10.801331502), (36.294750409, 10.019864179))
            ThreePointArc((36.294750409, 10.019864179), (35.938277424, 9.712977507), (35.48104333, 9.602571887))
        make_face()
    extrude(amount=BOSS_EXTRUDE4_DEPTH)


solid = part.part
